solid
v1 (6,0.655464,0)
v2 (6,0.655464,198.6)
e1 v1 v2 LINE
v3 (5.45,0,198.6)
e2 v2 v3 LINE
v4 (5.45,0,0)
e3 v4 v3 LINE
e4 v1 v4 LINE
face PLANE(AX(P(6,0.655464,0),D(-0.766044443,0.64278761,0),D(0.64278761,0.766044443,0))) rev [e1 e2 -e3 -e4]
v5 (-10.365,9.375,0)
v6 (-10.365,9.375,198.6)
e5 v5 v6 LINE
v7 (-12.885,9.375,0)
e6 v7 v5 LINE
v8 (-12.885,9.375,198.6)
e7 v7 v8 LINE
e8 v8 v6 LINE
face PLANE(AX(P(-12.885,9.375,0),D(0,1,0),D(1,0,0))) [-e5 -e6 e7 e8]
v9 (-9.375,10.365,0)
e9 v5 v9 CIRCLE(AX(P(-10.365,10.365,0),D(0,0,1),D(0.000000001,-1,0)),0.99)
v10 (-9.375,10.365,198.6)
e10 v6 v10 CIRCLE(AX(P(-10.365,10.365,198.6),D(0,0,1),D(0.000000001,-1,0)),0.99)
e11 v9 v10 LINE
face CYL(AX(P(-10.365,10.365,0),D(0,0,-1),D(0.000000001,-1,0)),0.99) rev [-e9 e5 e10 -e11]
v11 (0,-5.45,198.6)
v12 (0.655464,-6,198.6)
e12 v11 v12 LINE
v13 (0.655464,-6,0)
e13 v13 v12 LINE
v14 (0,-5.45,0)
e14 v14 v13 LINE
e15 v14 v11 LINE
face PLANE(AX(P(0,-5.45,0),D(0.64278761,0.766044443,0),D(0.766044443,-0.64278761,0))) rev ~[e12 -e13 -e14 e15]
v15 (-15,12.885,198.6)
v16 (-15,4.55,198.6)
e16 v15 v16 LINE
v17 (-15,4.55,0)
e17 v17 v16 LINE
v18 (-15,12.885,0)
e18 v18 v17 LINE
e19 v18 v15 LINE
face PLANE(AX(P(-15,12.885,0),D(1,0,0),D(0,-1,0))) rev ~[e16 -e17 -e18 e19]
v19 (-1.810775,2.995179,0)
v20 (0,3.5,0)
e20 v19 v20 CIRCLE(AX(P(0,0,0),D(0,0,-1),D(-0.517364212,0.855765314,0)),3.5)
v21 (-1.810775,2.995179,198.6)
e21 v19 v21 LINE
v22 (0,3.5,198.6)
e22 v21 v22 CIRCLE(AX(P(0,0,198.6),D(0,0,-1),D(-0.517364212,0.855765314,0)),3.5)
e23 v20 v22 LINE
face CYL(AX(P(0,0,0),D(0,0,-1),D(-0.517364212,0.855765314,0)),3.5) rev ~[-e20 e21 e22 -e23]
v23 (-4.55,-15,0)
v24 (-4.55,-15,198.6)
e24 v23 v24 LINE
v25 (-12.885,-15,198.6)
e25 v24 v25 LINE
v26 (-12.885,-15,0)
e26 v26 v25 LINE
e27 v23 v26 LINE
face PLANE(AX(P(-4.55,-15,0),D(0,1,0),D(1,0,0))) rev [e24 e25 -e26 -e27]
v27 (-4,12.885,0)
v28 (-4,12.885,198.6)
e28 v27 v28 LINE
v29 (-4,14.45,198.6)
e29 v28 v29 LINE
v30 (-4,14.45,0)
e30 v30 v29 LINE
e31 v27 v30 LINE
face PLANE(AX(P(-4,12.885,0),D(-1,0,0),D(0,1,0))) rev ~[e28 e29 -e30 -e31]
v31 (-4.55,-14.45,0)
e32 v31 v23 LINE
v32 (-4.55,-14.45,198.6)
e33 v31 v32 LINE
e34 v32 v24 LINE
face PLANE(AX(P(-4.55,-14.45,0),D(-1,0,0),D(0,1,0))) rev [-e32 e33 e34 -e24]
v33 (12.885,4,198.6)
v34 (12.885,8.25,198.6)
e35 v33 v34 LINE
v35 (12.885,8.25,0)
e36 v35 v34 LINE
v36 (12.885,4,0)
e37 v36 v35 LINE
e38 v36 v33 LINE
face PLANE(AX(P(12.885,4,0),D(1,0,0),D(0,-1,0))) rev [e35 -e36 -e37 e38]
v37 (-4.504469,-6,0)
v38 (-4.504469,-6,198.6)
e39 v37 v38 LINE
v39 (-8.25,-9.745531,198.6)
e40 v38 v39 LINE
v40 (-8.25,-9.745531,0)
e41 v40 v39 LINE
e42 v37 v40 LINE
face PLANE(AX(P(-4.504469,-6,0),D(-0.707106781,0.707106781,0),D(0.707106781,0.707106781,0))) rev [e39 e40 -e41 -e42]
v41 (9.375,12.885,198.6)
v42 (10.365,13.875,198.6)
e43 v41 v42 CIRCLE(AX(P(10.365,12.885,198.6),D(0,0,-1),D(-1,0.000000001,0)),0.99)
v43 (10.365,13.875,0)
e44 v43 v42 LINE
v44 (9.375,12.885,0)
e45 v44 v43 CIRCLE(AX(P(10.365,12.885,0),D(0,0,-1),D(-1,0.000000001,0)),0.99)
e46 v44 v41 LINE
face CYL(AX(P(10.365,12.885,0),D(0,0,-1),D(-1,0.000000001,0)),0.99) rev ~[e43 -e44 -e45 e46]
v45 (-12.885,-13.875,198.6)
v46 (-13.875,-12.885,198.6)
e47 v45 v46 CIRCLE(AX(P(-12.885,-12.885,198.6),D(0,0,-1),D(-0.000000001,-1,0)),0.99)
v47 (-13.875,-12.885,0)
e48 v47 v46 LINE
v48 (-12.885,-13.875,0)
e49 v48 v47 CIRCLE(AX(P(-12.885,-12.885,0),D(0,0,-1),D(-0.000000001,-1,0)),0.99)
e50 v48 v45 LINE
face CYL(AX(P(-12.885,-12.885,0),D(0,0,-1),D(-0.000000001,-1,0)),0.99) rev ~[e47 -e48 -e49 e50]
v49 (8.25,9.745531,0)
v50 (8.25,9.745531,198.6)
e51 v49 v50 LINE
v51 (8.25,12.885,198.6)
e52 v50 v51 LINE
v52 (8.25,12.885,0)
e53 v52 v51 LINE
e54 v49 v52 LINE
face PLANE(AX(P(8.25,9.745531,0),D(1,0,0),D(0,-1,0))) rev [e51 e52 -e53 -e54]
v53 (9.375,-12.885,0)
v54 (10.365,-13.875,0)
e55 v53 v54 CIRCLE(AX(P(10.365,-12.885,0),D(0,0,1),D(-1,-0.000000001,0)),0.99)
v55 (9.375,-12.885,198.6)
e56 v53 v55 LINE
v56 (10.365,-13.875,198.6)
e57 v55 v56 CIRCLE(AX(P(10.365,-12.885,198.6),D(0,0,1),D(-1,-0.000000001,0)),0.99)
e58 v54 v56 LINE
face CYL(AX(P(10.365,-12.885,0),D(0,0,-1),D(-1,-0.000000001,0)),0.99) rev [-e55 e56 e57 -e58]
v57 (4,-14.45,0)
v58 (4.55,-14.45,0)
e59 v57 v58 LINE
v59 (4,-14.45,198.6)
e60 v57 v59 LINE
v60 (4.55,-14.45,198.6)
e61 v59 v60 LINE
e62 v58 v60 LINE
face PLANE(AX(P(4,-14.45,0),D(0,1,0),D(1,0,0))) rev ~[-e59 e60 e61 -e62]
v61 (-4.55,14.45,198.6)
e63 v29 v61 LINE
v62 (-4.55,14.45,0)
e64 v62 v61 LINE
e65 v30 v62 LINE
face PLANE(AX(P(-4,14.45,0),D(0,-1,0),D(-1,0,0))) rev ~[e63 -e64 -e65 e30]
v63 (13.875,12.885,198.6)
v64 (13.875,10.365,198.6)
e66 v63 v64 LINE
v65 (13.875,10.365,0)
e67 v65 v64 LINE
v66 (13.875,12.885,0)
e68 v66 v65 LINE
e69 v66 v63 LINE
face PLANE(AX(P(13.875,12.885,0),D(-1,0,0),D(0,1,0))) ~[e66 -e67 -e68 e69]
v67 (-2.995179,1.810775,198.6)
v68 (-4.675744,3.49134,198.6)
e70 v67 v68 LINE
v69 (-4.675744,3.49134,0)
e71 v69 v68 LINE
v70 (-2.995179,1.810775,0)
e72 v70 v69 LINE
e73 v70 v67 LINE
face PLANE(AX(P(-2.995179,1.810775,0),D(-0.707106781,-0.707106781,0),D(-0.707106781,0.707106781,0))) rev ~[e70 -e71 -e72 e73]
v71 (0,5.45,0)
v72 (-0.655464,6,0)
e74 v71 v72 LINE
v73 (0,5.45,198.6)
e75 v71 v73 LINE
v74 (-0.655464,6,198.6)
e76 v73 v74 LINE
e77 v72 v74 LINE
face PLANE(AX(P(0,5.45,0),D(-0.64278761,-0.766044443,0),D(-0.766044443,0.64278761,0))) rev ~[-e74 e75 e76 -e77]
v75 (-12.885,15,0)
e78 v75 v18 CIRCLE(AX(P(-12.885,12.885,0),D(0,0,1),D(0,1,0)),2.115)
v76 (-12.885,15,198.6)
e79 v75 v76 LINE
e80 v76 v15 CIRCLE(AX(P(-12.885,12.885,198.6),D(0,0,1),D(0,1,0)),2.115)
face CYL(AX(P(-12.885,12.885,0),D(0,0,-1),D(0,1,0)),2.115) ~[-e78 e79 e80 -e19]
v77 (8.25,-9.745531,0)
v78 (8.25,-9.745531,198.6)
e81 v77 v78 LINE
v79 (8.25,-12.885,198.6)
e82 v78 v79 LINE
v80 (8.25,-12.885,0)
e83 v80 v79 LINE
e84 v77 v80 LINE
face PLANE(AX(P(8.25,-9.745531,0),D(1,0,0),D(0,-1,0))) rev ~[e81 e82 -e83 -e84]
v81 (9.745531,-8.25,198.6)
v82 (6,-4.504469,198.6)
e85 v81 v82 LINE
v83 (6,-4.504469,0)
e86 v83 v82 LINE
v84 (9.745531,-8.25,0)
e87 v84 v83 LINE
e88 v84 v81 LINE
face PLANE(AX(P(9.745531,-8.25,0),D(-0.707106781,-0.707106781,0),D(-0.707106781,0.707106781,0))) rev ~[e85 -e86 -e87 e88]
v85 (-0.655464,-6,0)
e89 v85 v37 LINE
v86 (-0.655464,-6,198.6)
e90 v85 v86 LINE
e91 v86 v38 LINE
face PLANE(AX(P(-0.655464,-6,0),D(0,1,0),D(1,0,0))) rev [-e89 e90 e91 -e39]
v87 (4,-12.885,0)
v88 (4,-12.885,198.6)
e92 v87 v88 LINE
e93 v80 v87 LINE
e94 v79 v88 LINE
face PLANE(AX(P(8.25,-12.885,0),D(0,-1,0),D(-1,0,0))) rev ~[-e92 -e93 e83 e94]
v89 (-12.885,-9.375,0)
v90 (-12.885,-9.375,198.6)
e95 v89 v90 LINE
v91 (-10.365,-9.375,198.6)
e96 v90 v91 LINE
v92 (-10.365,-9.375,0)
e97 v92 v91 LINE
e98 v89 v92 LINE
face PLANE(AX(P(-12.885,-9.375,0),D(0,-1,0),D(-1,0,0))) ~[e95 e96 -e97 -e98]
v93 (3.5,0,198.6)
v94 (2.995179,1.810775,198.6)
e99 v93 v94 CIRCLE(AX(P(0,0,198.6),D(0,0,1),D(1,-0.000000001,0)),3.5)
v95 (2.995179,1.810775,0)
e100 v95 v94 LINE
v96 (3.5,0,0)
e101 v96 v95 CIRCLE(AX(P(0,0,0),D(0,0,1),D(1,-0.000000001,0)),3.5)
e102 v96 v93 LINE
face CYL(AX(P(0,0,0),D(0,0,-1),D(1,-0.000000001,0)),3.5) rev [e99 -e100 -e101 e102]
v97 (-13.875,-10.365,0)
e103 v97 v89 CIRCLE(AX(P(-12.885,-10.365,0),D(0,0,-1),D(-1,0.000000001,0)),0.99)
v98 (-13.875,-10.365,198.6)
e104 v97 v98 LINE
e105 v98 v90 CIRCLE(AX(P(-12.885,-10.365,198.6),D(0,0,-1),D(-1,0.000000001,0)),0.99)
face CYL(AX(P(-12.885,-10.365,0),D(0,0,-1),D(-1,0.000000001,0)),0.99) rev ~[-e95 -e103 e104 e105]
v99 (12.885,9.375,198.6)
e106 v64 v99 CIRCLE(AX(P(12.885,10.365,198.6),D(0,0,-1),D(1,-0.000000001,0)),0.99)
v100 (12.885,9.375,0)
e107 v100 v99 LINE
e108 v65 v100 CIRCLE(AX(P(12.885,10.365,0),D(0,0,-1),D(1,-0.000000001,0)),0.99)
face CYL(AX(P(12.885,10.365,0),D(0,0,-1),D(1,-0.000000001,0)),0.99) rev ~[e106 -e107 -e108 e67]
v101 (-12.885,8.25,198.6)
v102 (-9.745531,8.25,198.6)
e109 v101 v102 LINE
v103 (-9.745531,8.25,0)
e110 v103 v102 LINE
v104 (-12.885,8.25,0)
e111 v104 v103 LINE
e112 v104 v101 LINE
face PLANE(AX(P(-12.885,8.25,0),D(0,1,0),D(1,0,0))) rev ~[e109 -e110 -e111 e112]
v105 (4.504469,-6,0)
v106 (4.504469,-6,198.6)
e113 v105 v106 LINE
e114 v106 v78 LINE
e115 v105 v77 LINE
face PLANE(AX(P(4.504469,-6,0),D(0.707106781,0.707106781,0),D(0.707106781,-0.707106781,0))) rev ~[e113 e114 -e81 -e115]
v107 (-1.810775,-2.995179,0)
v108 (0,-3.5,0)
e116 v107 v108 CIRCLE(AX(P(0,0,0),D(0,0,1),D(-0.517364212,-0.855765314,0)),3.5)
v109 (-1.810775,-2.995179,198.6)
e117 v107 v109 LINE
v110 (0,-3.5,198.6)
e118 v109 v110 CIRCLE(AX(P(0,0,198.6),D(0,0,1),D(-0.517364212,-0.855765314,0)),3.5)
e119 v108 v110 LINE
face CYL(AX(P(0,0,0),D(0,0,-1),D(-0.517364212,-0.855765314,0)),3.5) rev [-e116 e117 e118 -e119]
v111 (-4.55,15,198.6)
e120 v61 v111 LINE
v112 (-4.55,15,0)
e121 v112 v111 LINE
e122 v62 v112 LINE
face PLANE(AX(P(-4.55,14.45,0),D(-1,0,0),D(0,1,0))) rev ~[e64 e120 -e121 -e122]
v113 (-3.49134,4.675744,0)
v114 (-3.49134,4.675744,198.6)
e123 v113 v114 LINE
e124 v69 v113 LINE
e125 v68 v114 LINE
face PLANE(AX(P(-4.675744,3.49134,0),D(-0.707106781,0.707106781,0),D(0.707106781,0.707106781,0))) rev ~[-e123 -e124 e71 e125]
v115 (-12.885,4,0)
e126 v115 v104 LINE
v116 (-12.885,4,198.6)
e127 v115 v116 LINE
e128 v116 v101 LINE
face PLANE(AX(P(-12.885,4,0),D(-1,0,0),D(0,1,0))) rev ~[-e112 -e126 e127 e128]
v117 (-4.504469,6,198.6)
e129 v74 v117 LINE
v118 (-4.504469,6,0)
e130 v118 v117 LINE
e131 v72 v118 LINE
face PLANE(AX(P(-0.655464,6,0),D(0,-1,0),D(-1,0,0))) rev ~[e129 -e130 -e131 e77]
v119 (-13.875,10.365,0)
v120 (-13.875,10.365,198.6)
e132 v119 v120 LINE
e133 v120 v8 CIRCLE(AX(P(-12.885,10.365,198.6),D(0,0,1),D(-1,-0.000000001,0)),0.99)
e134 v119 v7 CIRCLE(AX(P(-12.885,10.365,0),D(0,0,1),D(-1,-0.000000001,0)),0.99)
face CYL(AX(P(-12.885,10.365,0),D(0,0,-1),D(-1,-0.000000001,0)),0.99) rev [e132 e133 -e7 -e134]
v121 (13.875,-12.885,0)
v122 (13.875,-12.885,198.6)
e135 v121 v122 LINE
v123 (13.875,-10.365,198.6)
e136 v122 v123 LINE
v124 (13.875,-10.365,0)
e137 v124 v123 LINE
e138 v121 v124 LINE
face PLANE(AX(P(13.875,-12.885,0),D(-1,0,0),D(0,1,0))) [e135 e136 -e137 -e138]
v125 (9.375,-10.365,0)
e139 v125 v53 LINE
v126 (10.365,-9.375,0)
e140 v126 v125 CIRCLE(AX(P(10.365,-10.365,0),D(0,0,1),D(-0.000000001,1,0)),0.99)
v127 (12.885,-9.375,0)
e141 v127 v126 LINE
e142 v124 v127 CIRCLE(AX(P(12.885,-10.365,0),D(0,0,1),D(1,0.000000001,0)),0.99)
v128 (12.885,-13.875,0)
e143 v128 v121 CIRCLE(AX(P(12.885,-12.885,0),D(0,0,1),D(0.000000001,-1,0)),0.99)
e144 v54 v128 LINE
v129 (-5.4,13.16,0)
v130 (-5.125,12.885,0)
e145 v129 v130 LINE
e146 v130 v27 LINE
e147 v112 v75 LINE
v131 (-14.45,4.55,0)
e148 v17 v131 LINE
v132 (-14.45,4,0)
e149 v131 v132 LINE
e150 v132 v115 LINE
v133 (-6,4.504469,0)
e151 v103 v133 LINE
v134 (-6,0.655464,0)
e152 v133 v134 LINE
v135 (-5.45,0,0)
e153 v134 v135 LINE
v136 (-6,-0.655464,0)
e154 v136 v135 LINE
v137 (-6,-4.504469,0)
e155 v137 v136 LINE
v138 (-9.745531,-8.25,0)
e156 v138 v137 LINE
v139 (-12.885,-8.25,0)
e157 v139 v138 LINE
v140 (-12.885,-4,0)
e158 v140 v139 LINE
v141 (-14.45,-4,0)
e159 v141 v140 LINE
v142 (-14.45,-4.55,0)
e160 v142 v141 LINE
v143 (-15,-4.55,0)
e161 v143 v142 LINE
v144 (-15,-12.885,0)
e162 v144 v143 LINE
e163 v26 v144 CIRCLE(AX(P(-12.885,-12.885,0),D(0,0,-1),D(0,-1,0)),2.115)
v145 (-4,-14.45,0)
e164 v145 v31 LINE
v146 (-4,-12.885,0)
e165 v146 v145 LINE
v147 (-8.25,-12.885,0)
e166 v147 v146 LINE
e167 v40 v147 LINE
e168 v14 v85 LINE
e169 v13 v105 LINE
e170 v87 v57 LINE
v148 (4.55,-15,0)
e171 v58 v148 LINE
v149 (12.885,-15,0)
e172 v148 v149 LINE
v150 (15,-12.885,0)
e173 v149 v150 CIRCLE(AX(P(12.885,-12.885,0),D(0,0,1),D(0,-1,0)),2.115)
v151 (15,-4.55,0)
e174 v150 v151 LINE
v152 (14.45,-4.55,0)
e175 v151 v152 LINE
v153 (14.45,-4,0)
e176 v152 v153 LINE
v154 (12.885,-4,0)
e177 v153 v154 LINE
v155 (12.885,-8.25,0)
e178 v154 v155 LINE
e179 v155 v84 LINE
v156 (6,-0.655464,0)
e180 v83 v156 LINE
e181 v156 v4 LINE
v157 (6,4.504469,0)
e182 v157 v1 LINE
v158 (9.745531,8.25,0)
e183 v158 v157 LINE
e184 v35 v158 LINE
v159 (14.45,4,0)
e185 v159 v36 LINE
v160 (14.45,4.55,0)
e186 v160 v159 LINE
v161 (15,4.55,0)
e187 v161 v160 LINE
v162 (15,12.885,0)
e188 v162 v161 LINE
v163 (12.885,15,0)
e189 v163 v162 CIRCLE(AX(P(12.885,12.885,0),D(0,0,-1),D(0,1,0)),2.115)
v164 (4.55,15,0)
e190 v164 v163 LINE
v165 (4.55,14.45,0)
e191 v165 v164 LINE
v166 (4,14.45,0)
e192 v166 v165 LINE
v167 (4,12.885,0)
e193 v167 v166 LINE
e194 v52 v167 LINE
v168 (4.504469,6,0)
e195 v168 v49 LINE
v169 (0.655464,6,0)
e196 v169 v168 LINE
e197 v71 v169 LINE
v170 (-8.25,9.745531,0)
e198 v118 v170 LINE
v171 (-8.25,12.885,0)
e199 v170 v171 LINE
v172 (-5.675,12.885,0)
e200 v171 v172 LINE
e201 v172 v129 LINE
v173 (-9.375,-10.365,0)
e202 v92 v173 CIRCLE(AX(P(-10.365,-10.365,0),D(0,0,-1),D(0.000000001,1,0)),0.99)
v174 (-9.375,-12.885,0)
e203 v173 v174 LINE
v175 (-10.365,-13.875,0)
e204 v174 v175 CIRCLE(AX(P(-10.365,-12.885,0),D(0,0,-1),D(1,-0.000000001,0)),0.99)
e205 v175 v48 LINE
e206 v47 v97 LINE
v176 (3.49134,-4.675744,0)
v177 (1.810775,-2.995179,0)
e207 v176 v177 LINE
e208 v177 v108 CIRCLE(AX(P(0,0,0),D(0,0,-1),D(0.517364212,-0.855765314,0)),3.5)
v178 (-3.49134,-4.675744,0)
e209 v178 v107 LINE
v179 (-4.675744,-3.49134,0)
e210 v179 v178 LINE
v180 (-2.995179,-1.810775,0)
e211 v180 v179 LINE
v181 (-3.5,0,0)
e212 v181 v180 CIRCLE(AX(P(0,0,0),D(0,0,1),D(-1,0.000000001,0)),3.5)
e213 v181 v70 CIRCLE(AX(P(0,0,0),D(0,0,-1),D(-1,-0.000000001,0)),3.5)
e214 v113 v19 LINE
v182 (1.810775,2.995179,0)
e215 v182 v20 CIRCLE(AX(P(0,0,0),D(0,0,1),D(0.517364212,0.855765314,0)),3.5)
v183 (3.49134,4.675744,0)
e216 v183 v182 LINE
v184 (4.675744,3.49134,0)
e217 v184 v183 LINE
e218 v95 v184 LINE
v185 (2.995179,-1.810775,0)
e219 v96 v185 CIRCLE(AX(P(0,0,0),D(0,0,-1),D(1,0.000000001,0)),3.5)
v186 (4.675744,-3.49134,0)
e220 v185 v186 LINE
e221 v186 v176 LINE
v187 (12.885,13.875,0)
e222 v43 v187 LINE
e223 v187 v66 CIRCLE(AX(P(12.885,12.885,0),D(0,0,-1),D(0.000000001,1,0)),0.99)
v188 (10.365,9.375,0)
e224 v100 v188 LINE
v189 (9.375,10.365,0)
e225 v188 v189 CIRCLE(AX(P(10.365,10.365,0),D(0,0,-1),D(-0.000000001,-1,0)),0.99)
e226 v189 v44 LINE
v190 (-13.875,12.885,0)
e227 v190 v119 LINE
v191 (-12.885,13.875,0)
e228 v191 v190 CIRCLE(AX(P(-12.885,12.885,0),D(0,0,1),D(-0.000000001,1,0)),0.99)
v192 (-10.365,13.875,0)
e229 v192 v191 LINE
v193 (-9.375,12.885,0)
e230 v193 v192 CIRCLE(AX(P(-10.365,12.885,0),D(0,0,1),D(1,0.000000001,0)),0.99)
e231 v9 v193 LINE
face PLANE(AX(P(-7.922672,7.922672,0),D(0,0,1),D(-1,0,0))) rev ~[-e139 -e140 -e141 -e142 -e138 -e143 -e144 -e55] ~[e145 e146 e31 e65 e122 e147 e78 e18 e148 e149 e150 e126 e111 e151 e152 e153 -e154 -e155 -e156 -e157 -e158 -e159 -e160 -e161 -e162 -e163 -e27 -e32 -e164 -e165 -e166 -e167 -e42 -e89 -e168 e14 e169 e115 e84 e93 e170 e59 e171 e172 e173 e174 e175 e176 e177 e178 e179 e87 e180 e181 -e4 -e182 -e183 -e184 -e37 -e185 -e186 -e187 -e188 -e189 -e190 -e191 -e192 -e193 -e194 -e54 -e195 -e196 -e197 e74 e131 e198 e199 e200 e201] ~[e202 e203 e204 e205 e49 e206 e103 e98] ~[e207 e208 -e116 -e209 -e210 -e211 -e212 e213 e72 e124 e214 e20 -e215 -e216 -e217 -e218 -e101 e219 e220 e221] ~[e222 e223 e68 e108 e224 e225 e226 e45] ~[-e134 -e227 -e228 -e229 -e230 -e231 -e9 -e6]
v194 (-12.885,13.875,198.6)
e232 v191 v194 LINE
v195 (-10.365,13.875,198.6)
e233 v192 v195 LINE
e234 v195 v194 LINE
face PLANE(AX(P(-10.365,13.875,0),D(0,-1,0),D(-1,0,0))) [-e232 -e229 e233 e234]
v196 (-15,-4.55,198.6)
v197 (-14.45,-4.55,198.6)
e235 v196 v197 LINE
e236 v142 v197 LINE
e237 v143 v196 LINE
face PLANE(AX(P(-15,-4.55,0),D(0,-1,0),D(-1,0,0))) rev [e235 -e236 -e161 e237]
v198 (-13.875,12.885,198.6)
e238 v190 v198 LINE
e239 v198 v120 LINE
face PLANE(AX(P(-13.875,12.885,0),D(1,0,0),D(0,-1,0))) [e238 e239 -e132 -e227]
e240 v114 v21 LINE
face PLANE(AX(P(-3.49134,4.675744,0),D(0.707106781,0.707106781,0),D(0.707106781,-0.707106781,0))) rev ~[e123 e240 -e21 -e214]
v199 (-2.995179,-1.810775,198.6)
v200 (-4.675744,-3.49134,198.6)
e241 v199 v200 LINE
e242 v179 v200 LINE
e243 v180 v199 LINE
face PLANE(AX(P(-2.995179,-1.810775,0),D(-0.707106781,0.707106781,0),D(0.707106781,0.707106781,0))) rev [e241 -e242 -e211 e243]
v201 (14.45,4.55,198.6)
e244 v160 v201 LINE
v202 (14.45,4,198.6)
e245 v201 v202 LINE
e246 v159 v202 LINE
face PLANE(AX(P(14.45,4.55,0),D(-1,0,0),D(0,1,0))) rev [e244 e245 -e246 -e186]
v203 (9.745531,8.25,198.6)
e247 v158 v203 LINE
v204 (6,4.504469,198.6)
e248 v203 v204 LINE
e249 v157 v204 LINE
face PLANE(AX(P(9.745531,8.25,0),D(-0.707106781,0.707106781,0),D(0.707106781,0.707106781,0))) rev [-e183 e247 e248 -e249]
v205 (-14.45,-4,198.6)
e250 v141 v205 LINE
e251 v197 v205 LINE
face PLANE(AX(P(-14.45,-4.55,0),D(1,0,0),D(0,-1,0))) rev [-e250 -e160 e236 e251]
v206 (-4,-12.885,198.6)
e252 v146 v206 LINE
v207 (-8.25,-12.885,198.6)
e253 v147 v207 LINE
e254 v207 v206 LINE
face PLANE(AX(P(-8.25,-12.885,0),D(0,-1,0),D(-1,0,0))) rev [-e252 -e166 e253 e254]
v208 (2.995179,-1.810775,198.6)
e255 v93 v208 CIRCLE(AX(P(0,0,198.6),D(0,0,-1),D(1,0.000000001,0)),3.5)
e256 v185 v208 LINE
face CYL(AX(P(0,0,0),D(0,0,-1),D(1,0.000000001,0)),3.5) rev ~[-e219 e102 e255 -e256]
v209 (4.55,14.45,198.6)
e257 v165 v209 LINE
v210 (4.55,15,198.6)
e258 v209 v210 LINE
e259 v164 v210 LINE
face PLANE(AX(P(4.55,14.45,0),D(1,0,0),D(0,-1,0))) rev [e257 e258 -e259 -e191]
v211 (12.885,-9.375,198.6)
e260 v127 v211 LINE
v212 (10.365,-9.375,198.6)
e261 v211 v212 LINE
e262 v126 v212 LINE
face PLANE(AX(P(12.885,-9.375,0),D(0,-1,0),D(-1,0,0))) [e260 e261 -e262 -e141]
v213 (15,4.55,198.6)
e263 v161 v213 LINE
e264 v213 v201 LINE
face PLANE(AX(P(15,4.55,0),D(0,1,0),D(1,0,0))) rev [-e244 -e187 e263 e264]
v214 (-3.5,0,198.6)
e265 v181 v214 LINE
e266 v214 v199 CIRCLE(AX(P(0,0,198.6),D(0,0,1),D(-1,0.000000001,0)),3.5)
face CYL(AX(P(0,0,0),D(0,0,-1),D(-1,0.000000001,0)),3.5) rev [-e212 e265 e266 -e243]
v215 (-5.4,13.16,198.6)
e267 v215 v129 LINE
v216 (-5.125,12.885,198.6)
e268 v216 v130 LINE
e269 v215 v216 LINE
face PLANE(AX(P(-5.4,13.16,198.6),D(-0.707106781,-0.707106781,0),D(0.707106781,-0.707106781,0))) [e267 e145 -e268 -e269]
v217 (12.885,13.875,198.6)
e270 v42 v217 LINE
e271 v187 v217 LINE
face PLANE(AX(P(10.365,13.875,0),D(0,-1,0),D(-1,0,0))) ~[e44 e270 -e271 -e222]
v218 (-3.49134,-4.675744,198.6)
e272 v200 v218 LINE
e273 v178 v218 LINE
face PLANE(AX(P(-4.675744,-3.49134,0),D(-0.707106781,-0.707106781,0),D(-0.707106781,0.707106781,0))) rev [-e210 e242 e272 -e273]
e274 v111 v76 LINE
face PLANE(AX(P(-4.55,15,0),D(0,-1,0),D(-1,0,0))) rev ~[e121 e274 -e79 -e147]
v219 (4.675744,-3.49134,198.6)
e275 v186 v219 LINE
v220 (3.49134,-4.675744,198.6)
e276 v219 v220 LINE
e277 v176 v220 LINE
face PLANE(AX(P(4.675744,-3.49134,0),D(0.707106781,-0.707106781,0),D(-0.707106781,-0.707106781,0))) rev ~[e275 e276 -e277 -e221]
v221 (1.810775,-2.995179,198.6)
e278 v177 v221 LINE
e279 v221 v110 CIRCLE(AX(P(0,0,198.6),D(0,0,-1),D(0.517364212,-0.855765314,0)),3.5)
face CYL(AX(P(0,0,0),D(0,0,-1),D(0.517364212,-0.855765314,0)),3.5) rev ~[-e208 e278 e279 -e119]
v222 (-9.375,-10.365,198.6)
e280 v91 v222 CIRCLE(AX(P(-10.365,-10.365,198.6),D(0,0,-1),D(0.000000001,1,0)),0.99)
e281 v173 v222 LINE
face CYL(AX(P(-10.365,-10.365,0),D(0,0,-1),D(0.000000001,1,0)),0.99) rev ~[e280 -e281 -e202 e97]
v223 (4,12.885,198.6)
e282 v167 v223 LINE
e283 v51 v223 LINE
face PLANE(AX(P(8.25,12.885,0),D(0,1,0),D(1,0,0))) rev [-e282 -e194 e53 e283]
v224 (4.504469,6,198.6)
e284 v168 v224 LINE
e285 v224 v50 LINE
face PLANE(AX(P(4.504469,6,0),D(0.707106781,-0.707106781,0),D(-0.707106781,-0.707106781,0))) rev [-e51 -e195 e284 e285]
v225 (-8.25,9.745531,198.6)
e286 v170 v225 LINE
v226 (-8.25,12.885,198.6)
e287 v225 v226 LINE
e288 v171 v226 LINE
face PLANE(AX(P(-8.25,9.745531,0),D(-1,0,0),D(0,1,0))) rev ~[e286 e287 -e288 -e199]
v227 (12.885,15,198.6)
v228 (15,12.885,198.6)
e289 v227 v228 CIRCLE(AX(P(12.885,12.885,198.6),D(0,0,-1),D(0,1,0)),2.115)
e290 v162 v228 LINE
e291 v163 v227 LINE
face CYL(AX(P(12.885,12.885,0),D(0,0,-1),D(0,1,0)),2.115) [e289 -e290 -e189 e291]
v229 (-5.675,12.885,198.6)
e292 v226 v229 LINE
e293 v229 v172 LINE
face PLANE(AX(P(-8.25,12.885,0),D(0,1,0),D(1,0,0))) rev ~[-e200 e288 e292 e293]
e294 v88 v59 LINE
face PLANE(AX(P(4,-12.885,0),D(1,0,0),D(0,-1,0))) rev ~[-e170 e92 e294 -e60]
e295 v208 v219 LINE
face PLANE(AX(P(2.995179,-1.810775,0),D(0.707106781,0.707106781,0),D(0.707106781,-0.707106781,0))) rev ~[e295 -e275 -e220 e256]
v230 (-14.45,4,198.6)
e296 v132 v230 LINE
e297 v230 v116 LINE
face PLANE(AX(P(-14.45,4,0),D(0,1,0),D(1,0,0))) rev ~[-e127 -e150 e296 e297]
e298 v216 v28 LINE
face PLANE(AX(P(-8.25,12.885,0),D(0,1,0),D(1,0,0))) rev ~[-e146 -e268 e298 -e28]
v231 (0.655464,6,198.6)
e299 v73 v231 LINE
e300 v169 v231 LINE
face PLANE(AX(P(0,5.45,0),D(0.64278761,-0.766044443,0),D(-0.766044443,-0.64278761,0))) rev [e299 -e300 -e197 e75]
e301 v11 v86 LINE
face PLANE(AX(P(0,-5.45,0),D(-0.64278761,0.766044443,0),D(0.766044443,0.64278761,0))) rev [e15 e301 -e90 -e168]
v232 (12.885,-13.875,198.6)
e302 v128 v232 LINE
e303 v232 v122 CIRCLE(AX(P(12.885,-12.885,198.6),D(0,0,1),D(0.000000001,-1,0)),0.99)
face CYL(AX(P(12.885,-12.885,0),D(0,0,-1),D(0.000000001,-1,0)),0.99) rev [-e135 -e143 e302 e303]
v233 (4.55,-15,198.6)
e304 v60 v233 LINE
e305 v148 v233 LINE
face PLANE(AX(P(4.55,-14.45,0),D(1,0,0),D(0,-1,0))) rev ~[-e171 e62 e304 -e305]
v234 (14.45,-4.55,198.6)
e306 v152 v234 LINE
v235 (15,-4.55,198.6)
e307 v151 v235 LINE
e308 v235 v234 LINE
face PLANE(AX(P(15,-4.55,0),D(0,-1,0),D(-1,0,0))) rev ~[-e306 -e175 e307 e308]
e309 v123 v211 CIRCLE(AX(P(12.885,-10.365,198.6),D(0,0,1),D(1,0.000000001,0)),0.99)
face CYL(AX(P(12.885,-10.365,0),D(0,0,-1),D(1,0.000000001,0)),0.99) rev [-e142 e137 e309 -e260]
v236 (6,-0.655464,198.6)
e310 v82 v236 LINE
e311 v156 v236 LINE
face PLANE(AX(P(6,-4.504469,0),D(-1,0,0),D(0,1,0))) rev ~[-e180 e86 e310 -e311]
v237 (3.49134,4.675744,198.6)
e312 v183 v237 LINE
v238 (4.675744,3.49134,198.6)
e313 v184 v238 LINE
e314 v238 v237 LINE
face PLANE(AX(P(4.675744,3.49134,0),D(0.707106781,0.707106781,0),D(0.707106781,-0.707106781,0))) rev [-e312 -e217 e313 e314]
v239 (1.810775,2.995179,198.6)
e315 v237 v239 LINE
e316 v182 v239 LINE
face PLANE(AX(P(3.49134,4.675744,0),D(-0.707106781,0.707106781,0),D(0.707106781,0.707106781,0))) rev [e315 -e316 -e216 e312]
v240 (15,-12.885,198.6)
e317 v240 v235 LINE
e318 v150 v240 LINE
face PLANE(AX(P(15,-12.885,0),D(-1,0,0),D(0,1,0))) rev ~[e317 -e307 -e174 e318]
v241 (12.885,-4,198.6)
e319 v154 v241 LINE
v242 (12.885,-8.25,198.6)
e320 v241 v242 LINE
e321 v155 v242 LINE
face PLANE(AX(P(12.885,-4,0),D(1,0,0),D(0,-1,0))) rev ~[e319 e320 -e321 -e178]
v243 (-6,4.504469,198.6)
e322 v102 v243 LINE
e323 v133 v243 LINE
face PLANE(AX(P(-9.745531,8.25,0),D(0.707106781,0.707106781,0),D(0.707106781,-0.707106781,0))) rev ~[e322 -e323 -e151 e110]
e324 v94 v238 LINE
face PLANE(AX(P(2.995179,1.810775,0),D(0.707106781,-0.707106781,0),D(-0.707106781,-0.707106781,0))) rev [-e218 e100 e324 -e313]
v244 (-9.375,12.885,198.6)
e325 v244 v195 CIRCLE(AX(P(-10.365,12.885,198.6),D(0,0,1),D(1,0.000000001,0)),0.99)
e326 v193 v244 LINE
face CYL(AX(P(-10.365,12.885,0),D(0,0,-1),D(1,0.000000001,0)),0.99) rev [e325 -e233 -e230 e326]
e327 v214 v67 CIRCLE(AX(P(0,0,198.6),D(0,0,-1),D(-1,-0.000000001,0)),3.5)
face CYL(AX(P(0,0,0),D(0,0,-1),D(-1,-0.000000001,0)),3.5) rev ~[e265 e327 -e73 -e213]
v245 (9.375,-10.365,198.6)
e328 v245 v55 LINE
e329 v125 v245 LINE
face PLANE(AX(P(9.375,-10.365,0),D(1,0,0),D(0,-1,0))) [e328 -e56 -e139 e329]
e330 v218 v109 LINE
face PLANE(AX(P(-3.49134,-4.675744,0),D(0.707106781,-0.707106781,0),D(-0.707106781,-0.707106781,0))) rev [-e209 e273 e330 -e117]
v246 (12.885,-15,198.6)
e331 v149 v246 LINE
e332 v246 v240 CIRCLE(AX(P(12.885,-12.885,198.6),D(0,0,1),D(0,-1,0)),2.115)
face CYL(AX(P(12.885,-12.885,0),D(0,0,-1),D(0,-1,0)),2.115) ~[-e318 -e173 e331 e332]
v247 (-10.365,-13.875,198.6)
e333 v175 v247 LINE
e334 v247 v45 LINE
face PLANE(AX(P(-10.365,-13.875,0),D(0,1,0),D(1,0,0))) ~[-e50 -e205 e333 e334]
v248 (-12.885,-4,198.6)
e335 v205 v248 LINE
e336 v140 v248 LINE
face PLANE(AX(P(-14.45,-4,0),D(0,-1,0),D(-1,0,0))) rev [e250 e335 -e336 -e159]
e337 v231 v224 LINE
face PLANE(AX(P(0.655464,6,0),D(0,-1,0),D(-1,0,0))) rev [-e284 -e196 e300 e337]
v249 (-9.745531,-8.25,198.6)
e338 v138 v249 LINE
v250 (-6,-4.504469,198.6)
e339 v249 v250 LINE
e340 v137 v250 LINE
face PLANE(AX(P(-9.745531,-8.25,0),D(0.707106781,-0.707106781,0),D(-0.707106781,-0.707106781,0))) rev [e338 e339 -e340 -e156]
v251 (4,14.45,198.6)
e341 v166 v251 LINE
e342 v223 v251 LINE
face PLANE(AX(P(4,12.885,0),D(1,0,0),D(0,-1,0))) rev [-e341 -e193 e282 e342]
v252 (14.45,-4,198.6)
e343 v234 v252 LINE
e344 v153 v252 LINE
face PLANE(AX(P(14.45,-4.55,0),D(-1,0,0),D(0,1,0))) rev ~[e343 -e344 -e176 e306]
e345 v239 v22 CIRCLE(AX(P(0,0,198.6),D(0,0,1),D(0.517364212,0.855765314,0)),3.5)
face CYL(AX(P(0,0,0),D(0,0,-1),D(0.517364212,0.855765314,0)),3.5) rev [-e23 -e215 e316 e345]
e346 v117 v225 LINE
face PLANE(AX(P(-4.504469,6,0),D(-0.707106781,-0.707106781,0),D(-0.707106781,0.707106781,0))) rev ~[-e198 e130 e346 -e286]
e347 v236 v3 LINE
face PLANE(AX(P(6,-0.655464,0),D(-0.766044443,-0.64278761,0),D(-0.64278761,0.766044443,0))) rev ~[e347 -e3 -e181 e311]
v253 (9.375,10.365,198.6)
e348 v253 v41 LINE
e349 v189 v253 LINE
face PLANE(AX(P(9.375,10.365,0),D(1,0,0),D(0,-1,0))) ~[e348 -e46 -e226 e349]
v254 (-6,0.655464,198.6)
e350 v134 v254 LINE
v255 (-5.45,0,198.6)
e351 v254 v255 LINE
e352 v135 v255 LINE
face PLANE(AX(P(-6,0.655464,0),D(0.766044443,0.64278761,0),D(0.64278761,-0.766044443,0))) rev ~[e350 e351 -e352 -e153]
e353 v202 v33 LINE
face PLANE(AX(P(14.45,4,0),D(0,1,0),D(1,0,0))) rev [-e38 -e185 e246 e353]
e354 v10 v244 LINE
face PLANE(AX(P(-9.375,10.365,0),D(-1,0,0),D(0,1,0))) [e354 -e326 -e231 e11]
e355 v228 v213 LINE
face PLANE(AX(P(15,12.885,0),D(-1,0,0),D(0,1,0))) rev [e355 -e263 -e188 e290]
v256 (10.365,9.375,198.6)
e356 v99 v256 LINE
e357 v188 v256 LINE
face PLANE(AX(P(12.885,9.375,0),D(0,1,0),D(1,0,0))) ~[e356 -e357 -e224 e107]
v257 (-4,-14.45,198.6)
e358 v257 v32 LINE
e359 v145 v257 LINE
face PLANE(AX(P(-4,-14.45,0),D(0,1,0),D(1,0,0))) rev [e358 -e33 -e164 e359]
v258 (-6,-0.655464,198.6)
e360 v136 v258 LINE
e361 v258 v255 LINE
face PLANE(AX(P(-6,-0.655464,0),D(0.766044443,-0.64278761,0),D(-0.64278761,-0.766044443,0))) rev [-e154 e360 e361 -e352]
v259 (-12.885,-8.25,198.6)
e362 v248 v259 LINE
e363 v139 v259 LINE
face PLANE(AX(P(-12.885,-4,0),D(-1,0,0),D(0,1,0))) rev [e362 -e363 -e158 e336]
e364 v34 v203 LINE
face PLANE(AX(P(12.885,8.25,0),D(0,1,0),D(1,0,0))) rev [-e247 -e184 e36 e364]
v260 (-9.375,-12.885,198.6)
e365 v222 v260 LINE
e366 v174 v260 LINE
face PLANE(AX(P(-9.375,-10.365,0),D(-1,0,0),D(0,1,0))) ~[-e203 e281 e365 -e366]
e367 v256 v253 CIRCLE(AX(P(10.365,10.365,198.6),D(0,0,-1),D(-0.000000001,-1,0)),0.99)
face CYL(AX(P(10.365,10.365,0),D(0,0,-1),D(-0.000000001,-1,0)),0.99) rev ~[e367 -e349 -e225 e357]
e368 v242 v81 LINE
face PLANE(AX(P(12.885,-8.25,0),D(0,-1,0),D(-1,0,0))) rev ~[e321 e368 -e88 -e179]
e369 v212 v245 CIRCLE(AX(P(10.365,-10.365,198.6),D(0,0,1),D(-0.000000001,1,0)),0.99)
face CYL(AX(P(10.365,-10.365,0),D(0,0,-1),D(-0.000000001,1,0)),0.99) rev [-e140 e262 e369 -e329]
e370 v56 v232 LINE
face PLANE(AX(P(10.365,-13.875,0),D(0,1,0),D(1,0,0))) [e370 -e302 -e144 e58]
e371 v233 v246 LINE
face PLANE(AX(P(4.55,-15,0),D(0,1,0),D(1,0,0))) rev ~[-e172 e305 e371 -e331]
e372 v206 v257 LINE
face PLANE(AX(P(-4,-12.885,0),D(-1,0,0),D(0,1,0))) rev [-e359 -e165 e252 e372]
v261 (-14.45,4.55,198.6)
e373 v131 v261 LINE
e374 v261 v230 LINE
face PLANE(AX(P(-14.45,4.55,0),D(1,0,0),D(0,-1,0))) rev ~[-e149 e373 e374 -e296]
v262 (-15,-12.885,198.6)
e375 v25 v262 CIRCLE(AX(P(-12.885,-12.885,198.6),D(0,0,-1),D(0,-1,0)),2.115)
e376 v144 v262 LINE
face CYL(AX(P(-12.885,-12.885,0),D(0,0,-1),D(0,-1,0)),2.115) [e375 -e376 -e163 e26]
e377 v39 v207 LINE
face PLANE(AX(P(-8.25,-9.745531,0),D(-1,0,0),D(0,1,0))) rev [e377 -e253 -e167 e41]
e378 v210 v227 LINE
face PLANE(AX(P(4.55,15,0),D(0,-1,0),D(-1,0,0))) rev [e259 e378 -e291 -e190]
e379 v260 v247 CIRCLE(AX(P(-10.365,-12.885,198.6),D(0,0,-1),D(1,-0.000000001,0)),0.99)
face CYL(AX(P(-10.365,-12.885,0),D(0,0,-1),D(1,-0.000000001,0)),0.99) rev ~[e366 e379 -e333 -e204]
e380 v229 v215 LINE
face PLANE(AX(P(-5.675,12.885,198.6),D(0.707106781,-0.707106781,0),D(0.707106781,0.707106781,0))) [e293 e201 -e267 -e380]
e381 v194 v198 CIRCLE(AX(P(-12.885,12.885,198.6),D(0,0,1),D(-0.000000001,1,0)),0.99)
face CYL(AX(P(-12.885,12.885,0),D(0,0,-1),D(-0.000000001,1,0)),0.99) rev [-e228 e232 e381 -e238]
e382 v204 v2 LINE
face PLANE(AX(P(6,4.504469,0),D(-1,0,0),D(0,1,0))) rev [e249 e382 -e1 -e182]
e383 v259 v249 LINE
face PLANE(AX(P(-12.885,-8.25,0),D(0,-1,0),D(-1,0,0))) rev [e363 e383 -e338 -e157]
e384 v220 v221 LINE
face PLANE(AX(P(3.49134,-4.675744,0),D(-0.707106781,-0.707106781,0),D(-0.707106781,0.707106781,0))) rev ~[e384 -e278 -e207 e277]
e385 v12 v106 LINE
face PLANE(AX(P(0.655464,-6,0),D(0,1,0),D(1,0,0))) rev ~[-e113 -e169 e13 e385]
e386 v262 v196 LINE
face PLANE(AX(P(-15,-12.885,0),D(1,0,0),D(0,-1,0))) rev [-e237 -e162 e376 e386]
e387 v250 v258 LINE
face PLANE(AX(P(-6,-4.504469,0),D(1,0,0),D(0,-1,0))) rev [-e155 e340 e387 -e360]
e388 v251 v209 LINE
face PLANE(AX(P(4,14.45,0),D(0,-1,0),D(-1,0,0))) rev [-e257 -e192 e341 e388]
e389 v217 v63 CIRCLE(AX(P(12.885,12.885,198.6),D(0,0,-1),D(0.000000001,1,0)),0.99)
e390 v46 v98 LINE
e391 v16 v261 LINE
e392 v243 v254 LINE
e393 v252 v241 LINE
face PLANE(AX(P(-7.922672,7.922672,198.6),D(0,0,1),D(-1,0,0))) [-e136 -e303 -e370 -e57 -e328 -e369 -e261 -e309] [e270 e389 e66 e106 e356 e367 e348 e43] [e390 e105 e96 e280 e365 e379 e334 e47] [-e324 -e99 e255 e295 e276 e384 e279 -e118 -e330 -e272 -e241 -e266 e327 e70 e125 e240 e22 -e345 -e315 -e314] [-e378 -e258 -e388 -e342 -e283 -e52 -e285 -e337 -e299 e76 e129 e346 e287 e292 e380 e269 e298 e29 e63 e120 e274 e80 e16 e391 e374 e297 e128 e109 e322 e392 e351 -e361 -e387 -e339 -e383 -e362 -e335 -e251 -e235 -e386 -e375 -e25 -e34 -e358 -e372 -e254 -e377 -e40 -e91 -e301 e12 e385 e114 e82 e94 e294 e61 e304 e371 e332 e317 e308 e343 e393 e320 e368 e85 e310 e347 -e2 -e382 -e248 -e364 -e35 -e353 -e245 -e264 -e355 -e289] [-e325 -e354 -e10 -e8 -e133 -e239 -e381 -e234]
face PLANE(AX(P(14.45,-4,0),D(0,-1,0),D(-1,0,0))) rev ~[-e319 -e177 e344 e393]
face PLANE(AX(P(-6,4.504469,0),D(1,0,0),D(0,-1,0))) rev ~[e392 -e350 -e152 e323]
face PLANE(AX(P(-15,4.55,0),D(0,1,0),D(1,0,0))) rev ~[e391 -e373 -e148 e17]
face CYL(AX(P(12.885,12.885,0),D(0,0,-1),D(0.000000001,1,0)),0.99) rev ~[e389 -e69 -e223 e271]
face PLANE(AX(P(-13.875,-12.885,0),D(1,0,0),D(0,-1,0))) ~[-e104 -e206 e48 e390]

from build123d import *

# Parameters (mm, degrees)
BOSS_EXTRUDE1_DEPTH     = 198.6
CUT_EXTRUDE1_DEPTH      = 1
CUT_EXTRUDE1_DEPTH_BACK = 199.6


with BuildPart() as part:
    # Sketch4 → Boss-Extrude1 (new body)
    with BuildSketch(Plane.XY):
        with BuildLine():
            Line((0, -5.45), (0.655464476, -6))
            Line((0.655464476, -6), (4.504469158, -6))
            Line((4.504469158, -6), (8.25, -9.745530842))
            Line((8.25, -9.745530842), (8.25, -12.885))
            Line((8.25, -12.885), (4, -12.885))
            Line((4, -12.885), (4, -14.45))
            Line((4, -14.45), (4.55, -14.45))
            Line((4.55, -14.45), (4.55, -15))
            Line((4.55, -15), (12.885, -15))
            ThreePointArc((12.885, -15), (14.380530842, -14.380530842), (15, -12.885))
            Line((15, -12.885), (15, -4.55))
            Line((15, -4.55), (14.45, -4.55))
            Line((14.45, -4.55), (14.45, -4))
            Line((14.45, -4), (12.885, -4))
            Line((12.885, -4), (12.885, -8.25))
            Line((12.885, -8.25), (9.745530842, -8.25))
            Line((9.745530842, -8.25), (6, -4.504469158))
            Line((6, -4.504469158), (6, -0.655464476))
            Line((6, -0.655464476), (5.45, 0))
            Line((5.45, 0), (3.5, 0))
            ThreePointArc((3.5, 0), (3.371433308, -0.939913534), (2.995178599, -1.81077474))
            Line((2.995178599, -1.81077474), (4.675743591, -3.491339732))
            Line((4.675743591, -3.491339732), (3.491339732, -4.675743591))
            Line((3.491339732, -4.675743591), (1.81077474, -2.995178599))
            ThreePointArc((1.81077474, -2.995178599), (0.939913534, -3.371433308), (0, -3.5))
            Line((0, -3.5), (0, -5.45))
        make_face()
        with BuildLine():
            Line((9.375, -10.365), (9.375, -12.885))
            ThreePointArc((9.375, -12.885), (9.664964287, -13.585035713), (10.365, -13.875))
            Line((10.365, -13.875), (12.885, -13.875))
            ThreePointArc((12.885, -13.875), (13.585035713, -13.585035713), (13.875, -12.885))
            Line((13.875, -12.885), (13.875, -10.365))
            ThreePointArc((13.875, -10.365), (13.585035713, -9.664964287), (12.885, -9.375))
            Line((12.885, -9.375), (10.365, -9.375))
            ThreePointArc((10.365, -9.375), (9.664964287, -9.664964287), (9.375, -10.365))
        make_face(mode=Mode.SUBTRACT)
    extrude(amount=BOSS_EXTRUDE1_DEPTH)

    # Mirror1: part across plane


with BuildPart() as part_1:
    add(part.part)
    add(part.part.mirror(Plane(origin=(0, 0, 0), x_dir=(0, 0, 1), z_dir=(1, 0, 0))))

    # Mirror2: part across plane


with BuildPart() as part_2:
    add(part_1.part)
    add(part_1.part.mirror(Plane.ZX))

    # Sketch5 → Cut-Extrude1 (cut, two sides)
    with BuildSketch(Plane.XY.offset(198.6)) as cut_extrude1_sk:
        Polygon((-5.675, 12.885), (-5.4, 13.16), (-5.125, 12.885), align=None)
    extrude(amount=CUT_EXTRUDE1_DEPTH, mode=Mode.SUBTRACT)
    extrude(cut_extrude1_sk.sketch, amount=-CUT_EXTRUDE1_DEPTH_BACK, mode=Mode.SUBTRACT)


solid = part_2.part
